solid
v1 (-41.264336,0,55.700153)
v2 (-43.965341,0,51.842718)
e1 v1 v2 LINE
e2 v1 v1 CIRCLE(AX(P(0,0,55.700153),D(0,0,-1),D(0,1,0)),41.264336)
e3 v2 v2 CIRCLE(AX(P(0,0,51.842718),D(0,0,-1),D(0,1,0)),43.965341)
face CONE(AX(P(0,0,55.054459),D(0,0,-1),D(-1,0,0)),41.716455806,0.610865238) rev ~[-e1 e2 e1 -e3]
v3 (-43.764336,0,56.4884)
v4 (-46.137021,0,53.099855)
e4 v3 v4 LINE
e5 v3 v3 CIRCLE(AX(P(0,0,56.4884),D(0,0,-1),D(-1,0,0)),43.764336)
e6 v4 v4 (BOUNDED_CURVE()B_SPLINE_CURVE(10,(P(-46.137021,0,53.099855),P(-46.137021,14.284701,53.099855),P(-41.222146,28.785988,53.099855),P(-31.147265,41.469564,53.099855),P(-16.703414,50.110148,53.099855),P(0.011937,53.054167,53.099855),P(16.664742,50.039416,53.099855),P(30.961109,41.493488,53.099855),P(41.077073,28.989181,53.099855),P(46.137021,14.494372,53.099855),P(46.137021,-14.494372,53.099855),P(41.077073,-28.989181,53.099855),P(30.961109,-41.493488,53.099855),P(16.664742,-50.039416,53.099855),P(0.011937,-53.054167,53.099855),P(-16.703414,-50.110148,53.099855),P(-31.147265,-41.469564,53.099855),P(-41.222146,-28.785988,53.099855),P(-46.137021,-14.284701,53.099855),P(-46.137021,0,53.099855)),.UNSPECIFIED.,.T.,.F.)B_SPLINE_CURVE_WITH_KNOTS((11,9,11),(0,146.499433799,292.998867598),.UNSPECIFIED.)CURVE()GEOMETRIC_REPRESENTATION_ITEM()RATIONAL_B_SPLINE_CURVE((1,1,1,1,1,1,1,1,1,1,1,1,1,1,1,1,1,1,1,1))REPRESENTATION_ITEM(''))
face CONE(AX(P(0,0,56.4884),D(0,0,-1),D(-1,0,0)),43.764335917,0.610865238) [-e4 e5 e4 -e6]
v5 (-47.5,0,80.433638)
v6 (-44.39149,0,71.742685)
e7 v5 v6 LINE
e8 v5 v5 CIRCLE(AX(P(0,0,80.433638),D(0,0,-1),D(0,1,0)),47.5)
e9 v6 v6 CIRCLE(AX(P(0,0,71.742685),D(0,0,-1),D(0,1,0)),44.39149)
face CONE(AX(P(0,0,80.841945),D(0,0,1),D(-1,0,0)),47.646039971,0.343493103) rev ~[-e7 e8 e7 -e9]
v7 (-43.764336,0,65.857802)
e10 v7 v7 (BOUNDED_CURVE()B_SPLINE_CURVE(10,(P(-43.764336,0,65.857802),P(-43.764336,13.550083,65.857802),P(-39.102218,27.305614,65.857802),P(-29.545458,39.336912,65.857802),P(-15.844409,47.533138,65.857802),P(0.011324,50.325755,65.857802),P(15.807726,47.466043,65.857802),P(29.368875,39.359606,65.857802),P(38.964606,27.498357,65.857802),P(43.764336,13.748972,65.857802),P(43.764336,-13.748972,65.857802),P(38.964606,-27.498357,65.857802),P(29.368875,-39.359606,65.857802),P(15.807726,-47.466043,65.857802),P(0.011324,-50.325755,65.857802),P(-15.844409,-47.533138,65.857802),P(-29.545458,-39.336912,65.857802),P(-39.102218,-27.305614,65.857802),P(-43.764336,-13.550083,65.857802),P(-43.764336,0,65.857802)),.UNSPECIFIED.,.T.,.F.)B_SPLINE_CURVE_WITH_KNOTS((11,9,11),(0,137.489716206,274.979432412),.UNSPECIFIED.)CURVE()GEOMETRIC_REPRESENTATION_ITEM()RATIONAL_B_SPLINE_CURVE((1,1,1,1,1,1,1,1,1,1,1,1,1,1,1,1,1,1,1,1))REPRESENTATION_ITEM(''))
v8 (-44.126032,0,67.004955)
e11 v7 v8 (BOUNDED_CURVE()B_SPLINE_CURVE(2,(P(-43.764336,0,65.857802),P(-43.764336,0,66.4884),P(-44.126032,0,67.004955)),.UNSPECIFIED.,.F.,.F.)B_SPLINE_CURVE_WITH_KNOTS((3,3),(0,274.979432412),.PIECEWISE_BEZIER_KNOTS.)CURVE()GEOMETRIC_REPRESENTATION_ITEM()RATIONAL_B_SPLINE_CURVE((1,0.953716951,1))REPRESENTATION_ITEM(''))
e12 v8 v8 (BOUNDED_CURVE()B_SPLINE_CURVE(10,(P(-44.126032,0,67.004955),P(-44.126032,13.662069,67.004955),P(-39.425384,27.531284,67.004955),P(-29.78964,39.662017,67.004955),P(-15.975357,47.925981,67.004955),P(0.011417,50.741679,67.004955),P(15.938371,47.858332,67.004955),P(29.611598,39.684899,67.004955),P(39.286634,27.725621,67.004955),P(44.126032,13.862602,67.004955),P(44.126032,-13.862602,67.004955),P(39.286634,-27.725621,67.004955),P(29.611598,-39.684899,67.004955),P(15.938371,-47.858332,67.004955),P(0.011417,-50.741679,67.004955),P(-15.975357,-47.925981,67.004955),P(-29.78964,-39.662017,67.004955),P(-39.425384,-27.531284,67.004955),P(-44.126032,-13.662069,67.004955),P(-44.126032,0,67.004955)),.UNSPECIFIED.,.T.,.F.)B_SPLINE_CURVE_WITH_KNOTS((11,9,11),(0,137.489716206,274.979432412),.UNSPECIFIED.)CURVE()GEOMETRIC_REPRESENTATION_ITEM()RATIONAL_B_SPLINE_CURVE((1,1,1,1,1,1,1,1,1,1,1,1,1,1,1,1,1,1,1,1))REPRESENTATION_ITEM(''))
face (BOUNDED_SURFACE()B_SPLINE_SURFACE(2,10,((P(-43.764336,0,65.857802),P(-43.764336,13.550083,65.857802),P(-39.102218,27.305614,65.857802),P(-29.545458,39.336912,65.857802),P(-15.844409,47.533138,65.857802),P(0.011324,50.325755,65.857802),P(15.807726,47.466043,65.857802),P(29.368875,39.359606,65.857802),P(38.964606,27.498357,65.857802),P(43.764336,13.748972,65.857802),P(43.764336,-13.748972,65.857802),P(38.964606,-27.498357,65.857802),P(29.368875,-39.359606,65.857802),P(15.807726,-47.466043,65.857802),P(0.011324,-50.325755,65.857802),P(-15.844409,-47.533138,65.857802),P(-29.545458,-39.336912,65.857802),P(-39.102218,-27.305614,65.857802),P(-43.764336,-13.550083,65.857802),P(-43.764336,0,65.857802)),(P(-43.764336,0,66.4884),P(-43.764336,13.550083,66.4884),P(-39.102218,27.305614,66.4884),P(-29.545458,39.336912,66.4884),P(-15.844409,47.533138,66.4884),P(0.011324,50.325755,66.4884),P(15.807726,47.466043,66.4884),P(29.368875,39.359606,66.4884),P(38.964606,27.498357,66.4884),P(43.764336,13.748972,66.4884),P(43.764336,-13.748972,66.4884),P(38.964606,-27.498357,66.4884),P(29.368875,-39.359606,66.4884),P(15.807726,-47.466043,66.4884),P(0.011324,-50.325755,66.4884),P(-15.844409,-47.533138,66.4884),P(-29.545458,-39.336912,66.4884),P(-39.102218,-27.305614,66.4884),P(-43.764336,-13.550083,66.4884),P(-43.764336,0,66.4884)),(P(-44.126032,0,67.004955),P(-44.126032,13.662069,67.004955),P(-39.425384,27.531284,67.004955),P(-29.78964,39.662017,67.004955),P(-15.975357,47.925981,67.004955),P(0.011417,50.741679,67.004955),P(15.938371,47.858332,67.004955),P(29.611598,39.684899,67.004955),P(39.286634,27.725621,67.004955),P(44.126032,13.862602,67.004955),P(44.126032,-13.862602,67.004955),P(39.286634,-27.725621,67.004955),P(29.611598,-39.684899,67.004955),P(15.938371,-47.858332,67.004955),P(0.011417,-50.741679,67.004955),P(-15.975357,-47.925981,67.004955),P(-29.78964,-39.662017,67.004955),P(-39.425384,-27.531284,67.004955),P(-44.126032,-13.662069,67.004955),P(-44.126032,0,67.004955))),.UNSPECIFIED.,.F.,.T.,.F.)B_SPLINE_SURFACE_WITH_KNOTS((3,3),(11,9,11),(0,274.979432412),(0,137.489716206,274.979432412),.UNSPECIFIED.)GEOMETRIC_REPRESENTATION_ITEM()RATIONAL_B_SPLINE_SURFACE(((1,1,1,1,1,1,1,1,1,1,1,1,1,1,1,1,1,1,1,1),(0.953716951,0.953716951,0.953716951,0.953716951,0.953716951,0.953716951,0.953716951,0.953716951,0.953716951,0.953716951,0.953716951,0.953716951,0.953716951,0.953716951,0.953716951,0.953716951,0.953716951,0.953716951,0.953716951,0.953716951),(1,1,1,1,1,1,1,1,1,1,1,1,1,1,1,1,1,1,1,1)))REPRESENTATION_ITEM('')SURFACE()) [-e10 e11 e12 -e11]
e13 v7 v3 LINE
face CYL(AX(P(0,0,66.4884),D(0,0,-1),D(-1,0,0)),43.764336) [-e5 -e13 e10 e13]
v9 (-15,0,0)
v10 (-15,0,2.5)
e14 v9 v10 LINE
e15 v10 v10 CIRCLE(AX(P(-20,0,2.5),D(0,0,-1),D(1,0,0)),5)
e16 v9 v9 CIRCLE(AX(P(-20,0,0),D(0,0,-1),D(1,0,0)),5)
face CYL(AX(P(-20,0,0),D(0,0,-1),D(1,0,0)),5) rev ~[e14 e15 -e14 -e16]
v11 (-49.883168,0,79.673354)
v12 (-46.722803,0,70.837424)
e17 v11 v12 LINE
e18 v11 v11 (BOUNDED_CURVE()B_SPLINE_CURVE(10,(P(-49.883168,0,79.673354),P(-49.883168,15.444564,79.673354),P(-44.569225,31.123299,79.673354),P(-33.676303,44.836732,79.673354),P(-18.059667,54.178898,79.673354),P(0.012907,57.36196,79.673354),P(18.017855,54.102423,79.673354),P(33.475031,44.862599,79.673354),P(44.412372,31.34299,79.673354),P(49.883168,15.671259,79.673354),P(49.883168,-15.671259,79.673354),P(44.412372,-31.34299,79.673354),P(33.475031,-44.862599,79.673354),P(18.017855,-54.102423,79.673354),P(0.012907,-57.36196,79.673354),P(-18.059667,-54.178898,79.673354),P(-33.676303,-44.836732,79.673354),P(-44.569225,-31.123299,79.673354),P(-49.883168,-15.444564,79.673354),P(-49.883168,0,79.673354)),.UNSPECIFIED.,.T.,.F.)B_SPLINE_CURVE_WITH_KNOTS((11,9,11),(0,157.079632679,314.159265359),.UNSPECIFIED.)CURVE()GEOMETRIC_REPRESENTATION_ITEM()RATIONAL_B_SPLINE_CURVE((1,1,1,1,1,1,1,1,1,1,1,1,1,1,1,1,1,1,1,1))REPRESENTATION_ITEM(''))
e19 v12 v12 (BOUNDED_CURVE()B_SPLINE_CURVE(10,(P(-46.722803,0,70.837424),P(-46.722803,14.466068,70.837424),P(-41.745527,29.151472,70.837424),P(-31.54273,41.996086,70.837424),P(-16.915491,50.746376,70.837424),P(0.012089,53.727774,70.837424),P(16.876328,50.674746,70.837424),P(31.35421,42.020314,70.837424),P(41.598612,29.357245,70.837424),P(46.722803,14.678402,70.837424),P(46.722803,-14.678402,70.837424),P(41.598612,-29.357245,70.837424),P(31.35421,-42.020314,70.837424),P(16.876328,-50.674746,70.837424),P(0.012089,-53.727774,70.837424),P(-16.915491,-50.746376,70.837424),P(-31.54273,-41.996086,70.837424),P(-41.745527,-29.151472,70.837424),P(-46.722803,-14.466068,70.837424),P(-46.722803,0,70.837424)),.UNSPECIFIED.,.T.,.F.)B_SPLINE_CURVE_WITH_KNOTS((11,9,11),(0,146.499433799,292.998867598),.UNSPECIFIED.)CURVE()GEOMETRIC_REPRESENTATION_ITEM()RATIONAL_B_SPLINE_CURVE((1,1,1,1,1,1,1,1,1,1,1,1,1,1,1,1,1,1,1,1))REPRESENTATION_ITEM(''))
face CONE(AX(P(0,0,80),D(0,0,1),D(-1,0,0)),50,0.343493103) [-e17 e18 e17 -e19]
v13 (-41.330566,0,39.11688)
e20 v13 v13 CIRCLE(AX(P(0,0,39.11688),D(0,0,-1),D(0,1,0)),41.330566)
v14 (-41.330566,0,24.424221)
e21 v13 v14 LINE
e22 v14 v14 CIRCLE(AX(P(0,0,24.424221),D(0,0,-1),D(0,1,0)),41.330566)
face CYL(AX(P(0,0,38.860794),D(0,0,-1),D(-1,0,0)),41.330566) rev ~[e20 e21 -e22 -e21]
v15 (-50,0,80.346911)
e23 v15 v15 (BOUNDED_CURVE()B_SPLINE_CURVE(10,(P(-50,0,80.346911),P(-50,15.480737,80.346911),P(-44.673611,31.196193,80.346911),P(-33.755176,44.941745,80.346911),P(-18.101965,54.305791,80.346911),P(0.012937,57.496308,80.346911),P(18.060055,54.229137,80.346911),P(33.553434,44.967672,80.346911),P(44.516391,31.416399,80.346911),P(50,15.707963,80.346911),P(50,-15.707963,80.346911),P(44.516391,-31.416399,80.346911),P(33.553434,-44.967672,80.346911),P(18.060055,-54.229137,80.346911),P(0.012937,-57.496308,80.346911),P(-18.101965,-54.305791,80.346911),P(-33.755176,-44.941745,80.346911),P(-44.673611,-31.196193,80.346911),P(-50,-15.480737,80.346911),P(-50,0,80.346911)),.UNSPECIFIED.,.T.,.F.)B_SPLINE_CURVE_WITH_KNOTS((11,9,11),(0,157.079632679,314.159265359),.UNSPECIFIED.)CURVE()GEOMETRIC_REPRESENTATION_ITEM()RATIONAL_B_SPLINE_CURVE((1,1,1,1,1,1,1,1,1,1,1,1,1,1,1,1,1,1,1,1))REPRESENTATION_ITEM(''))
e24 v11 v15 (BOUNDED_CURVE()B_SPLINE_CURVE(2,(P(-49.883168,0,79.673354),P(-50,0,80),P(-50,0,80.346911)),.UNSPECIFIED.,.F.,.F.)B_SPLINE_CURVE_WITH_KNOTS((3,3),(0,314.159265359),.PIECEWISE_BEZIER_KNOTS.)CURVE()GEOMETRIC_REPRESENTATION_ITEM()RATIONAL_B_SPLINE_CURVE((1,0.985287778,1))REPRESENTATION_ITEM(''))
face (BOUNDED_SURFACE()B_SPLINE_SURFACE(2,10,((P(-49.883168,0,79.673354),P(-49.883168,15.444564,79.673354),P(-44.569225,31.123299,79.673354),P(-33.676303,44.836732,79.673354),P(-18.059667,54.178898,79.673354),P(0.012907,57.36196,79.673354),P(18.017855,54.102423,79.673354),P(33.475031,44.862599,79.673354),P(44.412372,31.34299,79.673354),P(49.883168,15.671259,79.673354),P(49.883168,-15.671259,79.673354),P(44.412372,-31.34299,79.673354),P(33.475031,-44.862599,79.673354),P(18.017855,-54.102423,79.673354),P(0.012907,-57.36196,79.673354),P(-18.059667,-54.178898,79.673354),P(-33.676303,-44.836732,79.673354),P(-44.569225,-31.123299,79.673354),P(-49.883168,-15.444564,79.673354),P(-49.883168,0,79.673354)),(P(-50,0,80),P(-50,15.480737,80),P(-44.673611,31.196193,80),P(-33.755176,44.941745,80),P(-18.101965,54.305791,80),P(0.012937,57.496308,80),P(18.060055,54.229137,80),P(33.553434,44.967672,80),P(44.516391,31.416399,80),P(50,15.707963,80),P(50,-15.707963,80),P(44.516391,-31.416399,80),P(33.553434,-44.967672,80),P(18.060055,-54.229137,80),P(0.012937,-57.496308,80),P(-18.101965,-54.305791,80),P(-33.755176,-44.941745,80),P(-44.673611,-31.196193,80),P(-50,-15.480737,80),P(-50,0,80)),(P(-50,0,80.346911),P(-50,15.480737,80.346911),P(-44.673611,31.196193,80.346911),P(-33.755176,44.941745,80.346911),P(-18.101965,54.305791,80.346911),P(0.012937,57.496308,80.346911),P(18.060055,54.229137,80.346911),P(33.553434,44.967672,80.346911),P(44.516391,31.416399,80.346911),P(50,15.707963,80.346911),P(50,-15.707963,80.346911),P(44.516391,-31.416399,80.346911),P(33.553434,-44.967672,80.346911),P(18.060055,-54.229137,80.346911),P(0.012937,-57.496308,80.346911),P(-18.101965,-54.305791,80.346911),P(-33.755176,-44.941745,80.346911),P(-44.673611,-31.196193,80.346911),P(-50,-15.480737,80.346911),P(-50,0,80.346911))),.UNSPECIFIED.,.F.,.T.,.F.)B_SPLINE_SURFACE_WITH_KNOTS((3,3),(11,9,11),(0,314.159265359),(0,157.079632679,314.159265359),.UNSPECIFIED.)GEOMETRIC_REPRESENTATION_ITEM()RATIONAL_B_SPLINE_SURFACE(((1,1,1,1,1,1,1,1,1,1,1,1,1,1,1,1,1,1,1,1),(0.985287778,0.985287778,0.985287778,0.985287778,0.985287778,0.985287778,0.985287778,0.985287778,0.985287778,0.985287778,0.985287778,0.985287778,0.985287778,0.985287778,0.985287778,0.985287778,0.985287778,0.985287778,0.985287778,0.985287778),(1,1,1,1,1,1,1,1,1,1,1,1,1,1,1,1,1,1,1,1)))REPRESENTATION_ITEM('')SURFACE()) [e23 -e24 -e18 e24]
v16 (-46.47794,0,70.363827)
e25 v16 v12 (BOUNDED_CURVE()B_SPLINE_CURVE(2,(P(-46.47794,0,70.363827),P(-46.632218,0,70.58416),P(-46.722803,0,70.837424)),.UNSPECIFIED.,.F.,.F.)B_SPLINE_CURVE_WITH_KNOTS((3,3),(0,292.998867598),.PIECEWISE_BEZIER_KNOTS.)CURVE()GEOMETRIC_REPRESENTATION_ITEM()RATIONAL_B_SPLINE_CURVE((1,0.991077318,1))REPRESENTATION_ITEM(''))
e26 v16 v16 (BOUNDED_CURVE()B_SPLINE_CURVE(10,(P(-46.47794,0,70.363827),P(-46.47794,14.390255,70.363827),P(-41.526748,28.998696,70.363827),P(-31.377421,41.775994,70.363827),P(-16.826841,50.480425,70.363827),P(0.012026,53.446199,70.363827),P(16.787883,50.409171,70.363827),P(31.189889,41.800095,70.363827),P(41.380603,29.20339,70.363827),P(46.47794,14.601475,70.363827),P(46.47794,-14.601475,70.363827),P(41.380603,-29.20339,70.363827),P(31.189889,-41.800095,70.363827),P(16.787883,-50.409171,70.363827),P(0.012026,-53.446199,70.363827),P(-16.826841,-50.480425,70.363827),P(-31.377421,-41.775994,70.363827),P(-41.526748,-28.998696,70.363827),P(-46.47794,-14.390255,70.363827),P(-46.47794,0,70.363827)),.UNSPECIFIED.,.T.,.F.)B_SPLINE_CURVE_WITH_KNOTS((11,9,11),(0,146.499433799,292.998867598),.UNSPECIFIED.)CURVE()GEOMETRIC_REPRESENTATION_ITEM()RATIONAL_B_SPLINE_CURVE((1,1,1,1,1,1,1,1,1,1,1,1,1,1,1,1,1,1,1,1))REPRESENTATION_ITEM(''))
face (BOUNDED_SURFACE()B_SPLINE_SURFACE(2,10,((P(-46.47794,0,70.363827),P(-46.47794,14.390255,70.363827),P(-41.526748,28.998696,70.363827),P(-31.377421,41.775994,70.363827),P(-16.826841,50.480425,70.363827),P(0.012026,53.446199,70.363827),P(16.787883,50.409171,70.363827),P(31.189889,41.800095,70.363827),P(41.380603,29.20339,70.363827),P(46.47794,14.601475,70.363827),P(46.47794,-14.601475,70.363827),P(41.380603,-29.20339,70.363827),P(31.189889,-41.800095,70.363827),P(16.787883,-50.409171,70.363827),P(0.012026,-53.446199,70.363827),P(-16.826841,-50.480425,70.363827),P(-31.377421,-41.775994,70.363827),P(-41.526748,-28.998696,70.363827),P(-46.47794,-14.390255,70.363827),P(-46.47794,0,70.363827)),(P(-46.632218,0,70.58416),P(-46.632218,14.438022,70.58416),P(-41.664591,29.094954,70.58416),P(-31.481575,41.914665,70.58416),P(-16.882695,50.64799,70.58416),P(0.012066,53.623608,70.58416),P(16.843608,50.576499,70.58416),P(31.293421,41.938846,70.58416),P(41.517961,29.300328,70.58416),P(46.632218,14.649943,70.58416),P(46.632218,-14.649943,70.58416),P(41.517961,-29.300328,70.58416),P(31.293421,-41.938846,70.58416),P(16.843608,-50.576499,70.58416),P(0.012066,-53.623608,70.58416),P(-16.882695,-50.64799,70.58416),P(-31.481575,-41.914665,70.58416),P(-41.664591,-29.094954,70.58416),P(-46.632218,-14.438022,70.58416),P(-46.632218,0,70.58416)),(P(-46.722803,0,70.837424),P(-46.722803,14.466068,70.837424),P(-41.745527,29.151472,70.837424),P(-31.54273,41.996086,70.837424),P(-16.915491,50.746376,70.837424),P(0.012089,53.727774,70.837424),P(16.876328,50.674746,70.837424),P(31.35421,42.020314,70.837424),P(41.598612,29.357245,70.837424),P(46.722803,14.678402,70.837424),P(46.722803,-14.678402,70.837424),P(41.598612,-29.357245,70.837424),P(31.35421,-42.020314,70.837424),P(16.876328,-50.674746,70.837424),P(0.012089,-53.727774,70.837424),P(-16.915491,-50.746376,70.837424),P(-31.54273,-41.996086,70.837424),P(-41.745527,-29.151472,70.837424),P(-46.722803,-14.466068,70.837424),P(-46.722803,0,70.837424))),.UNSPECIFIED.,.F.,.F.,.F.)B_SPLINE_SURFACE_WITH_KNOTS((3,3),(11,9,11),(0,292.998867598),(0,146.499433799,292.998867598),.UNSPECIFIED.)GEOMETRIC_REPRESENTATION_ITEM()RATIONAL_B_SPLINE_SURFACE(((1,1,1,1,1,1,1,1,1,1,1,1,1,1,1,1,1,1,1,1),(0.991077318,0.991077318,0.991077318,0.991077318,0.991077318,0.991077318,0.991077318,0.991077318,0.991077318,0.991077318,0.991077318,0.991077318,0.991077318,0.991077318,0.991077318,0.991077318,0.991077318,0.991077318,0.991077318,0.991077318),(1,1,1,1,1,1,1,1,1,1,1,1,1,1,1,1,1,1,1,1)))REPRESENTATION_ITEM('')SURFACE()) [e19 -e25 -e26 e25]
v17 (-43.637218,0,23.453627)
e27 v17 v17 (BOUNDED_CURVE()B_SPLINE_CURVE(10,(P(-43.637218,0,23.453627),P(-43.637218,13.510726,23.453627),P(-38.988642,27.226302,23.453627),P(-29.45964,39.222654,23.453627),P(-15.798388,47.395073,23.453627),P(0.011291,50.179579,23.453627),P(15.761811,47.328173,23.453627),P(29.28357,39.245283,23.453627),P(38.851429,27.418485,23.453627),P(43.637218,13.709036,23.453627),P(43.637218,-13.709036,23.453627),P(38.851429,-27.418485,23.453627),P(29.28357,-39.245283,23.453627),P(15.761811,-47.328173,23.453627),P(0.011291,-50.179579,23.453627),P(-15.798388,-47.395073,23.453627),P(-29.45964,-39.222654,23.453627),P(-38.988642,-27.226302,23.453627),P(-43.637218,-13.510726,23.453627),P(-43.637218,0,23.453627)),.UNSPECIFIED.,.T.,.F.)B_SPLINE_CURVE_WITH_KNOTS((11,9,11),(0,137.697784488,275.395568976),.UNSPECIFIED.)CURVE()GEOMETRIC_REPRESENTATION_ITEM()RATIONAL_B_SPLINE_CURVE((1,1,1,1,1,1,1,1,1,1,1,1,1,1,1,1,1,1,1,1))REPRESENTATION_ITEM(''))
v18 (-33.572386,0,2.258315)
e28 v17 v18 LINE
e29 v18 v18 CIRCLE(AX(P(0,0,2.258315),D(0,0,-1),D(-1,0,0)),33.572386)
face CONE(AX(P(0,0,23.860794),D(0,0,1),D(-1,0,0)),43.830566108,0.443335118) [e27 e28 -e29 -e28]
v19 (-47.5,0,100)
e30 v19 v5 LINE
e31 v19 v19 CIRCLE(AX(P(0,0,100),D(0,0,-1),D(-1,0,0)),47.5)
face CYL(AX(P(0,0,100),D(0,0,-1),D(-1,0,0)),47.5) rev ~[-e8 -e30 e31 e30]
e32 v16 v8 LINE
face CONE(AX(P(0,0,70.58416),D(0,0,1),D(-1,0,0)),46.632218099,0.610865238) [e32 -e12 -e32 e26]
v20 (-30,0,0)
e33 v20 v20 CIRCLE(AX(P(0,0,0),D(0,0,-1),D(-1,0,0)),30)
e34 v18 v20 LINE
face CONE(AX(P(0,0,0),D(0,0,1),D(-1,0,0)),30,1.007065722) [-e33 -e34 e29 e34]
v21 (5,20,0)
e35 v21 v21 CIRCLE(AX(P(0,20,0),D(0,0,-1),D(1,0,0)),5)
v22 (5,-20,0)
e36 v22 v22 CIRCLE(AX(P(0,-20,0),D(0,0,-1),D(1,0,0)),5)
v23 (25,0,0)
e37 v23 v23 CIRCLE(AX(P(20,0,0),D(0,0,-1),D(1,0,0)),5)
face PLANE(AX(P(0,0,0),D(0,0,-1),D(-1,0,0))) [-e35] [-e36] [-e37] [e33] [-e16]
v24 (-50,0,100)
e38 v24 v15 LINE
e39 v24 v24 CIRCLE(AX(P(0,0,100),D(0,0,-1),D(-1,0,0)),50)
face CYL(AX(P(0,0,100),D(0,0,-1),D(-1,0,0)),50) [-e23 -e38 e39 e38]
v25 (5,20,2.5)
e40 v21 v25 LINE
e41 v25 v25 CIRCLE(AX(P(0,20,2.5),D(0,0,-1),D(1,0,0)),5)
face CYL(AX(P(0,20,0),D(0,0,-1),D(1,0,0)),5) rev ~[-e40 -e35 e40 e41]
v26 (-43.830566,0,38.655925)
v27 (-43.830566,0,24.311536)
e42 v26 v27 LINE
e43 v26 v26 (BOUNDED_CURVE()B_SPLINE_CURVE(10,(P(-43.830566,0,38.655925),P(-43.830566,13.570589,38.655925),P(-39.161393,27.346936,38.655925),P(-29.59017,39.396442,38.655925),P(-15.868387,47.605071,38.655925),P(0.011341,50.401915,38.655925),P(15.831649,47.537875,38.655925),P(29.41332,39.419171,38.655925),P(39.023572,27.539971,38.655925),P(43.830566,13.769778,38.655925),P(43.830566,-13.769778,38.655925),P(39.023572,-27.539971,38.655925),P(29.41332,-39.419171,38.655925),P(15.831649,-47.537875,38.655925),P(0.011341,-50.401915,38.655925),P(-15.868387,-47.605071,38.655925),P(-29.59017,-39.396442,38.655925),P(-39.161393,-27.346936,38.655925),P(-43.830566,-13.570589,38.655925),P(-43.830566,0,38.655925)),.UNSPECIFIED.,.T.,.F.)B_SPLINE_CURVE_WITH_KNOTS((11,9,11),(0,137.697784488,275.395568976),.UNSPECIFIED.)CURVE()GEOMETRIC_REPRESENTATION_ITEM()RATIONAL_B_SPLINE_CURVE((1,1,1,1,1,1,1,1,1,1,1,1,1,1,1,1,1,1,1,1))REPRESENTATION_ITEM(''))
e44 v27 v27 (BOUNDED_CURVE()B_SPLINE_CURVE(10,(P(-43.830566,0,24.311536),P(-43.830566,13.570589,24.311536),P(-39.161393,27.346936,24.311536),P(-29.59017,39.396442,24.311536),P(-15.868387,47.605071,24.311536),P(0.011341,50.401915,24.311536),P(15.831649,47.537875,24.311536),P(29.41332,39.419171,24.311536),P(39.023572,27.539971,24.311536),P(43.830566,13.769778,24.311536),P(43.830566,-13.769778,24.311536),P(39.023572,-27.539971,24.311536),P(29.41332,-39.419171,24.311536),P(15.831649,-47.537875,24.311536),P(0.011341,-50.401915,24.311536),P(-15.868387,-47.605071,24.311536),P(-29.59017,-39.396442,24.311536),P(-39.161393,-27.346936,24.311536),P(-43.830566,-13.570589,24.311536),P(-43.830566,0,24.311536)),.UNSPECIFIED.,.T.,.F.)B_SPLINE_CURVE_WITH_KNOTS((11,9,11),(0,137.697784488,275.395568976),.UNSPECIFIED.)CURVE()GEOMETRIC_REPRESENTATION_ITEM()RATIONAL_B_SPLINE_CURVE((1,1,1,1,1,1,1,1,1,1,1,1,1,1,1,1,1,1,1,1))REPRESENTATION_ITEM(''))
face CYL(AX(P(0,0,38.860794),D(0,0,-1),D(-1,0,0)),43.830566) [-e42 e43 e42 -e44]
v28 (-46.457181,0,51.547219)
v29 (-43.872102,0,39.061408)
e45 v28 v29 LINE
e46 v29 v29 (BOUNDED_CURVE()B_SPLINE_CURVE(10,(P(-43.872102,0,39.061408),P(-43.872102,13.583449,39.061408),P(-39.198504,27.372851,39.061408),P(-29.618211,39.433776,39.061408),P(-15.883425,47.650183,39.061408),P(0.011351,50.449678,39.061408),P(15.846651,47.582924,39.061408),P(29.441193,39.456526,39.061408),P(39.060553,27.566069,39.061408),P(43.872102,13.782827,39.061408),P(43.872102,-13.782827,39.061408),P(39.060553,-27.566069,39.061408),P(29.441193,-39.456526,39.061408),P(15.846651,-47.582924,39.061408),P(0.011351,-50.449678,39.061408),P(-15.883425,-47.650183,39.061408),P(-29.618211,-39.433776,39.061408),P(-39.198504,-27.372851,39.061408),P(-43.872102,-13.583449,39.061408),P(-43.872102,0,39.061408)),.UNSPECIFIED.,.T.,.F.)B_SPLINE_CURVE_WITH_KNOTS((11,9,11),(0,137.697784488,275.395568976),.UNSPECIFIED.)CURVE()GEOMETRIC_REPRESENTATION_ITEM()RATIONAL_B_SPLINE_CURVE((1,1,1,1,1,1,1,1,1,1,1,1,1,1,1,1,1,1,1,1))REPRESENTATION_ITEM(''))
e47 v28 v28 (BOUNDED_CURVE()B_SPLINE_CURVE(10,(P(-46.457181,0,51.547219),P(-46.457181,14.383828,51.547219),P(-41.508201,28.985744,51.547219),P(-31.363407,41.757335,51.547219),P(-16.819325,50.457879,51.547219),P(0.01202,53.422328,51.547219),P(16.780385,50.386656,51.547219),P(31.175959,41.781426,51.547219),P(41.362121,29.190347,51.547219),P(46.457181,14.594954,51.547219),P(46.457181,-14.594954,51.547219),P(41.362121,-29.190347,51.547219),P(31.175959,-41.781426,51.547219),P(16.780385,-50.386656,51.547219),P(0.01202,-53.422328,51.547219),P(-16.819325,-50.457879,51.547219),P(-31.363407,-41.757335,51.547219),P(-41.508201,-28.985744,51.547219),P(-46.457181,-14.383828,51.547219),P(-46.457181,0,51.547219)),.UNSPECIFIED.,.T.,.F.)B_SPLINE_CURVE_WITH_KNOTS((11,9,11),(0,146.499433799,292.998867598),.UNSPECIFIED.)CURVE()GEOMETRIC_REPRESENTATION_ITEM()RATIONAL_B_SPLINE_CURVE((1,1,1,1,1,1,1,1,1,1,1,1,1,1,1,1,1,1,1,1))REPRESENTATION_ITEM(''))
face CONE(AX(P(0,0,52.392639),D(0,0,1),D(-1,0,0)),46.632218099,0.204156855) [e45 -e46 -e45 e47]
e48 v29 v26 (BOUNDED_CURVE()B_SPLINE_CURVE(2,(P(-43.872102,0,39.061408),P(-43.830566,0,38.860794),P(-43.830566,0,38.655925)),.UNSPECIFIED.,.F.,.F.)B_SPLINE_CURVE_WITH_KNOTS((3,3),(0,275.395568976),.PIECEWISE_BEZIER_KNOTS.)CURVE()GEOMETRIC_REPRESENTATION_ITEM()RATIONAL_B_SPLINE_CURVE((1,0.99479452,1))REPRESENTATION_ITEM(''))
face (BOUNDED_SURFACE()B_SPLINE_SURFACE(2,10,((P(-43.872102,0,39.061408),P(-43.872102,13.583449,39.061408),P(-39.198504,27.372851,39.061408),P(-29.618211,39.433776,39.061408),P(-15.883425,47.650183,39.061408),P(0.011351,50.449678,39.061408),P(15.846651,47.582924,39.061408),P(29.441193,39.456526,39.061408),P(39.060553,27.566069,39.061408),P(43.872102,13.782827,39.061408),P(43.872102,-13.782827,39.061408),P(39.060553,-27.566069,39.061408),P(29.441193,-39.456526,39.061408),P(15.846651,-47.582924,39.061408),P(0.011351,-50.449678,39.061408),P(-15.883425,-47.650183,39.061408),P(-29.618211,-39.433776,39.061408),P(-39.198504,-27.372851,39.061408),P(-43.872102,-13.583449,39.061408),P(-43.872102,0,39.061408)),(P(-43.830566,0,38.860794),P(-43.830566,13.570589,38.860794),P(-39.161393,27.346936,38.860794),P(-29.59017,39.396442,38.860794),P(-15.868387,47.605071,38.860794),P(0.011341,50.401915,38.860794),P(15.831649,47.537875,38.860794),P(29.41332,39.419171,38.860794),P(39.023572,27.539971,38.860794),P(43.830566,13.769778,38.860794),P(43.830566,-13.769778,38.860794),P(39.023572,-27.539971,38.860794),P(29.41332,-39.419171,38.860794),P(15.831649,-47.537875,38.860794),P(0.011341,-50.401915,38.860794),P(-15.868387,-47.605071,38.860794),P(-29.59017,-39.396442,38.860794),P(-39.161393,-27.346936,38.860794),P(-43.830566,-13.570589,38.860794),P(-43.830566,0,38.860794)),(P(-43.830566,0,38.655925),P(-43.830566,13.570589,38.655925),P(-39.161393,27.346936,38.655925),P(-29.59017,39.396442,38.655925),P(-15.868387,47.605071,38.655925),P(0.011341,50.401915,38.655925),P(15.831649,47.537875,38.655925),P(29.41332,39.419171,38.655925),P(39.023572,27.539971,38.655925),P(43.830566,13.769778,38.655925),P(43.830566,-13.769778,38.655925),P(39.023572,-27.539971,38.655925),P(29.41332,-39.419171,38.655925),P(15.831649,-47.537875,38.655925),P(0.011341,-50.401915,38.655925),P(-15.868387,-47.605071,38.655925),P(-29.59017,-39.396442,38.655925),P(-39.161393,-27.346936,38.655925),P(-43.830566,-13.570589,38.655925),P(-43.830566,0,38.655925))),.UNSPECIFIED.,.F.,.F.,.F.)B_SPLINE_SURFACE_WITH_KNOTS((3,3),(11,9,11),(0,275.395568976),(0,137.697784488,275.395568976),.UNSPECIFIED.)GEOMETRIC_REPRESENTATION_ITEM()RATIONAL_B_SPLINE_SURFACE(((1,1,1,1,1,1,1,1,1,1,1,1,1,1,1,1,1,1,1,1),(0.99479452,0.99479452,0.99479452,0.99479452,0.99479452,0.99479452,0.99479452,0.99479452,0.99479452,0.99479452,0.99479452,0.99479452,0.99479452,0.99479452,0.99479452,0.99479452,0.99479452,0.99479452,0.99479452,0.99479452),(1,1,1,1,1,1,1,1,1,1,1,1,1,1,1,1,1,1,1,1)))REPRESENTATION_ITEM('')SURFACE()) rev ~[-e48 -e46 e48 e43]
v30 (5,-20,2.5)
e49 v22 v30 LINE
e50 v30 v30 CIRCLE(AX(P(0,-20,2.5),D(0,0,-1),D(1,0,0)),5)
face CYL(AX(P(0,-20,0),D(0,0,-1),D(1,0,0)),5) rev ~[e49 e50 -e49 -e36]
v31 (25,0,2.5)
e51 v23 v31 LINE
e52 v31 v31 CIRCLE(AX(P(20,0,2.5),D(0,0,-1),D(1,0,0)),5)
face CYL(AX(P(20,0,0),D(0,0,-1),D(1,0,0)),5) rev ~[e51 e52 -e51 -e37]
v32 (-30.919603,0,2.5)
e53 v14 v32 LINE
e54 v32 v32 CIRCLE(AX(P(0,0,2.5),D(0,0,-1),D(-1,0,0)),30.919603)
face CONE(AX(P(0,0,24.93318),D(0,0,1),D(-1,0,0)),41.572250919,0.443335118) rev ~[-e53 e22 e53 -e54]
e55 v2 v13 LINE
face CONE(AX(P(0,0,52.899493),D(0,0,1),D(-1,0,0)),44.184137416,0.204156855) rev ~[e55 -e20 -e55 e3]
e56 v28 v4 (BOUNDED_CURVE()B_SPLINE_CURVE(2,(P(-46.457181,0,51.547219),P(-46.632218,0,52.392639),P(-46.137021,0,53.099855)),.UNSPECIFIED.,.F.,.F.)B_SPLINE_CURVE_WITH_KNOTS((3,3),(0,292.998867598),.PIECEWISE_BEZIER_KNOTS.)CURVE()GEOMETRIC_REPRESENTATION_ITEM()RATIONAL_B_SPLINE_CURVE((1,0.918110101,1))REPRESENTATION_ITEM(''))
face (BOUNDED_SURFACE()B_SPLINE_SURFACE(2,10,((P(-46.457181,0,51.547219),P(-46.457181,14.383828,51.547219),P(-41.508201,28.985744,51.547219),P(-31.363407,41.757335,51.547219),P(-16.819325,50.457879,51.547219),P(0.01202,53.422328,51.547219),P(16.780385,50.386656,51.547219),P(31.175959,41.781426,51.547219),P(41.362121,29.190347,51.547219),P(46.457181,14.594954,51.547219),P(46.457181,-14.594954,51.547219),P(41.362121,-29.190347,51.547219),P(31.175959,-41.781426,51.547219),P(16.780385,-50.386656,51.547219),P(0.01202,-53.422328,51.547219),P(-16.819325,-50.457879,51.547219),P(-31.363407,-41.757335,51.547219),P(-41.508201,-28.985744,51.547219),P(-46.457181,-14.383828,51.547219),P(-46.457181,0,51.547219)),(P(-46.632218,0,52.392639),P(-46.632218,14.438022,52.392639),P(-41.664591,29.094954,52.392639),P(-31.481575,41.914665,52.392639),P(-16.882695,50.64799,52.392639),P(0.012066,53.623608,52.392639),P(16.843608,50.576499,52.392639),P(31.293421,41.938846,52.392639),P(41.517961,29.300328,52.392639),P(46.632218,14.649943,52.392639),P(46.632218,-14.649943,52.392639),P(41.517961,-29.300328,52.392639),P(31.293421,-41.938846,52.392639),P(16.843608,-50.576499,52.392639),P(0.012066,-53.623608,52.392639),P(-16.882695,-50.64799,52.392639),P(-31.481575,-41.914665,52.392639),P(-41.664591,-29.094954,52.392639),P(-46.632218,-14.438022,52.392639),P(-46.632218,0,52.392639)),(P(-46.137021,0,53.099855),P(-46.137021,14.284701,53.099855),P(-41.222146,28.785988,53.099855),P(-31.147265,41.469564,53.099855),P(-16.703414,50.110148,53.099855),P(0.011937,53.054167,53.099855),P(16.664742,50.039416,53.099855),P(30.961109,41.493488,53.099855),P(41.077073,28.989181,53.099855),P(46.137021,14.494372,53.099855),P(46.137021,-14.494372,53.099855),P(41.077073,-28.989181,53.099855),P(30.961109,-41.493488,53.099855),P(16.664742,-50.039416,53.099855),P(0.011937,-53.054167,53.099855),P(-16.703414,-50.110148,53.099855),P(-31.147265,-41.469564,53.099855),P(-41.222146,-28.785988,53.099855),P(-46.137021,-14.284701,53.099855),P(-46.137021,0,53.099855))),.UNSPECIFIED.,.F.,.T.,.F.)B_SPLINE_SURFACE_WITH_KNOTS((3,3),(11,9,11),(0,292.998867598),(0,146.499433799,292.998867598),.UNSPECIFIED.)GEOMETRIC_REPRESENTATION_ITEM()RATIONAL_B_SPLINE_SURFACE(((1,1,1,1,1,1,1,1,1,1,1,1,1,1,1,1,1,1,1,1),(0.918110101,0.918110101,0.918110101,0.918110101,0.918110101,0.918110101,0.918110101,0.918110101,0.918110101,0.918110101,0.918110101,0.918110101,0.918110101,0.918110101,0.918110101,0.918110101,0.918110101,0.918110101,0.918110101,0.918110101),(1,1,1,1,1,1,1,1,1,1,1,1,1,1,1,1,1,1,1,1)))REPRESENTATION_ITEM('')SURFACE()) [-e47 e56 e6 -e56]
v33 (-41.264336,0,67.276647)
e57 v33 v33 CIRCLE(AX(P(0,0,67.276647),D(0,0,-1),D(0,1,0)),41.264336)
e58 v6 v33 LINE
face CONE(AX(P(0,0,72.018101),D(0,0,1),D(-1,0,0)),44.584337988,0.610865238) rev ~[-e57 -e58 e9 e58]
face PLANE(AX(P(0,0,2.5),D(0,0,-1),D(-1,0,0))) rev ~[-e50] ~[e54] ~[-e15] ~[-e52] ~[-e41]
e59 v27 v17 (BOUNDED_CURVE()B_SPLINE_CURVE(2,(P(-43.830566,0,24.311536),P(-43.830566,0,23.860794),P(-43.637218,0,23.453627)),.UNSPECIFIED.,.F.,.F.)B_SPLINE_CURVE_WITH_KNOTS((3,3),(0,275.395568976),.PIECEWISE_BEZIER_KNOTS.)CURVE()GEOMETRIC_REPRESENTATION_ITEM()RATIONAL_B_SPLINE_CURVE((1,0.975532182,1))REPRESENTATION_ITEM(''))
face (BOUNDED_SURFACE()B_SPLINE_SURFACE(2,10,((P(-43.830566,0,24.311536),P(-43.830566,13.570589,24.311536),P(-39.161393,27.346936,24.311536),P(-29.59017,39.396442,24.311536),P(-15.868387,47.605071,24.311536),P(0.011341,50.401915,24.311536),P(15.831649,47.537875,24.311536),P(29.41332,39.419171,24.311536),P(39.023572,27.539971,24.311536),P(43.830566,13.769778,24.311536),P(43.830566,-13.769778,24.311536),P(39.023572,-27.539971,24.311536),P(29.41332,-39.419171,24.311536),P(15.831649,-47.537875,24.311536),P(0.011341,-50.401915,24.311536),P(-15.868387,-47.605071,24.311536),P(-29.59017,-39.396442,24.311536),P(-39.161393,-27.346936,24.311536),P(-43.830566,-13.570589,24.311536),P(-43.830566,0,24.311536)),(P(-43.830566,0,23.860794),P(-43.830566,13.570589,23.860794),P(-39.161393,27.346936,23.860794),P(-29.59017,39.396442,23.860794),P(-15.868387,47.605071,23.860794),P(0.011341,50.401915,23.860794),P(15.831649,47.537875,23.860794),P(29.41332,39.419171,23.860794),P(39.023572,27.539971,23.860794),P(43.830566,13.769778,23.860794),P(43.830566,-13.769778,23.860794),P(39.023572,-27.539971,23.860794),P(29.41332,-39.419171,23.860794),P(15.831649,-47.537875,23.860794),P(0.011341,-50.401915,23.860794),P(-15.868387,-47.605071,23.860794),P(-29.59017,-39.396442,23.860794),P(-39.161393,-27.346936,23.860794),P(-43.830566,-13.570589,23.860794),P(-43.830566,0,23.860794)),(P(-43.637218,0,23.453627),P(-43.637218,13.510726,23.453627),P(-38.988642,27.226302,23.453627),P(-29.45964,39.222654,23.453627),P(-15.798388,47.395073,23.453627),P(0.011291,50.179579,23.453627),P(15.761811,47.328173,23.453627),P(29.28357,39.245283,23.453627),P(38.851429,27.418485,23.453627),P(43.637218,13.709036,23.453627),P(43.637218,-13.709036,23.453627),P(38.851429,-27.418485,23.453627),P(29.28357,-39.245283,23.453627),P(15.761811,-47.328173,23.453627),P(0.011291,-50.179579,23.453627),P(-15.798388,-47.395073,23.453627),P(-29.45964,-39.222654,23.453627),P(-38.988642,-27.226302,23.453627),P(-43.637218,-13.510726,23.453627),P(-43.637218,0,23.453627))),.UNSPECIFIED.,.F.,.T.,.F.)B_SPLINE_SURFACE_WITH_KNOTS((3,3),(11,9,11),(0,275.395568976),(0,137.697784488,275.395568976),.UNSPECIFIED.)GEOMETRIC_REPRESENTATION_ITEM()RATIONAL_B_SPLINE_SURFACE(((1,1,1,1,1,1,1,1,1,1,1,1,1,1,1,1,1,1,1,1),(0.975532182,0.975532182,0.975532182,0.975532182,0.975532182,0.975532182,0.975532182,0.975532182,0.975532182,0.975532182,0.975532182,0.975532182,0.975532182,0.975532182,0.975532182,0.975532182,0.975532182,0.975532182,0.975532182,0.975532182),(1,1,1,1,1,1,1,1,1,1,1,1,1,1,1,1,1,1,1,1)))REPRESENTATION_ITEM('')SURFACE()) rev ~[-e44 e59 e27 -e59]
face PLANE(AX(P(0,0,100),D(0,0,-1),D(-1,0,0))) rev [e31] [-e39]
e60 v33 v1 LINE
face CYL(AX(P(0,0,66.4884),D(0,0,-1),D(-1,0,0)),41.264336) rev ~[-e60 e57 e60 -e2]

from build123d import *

# Parameters (mm, degrees)
F2_T     = -2.5
F3_SIZE  = 2.5
F4_R     = 5
F5_DEPTH = 10
F6_R     = 2
F7_R     = 2


with BuildPart() as f1:
    # F0 (on Front) → F1 (revolve)
    with BuildSketch(Plane.XZ):
        Polygon((-50, 100), (-50, 80), (-46.6322180986, 70.5841598853), (-43.7643359169, 66.4883996639), (-43.7643359169, 56.4883996639), (-46.6322180986, 52.3926394425), (-43.8305661082, 38.8607935607), (-43.8305661082, 23.8607935607), (-32.5, 0), (0, 0), (0, 100), align=None)
    revolve(axis=Axis((0, 0, 50), (0, 0, -1)))

    # F2
    f2_openings = [f1.faces().sort_by_distance(p)[0] for p in [
        (0, 0, 100),
    ]]
    offset(amount=F2_T, openings=f2_openings, kind=Kind.INTERSECTION)

    # F3
    f3_edges = [f1.edges().sort_by_distance(p)[0] for p in [
        (32.5, 0, 0),
    ]]
    chamfer(f3_edges, length=F3_SIZE)

    # F4 (on face) → F5 (cut)
    with BuildSketch(Plane(origin=(0, 0, 0), x_dir=(1, 0, 0), z_dir=(0, 0, -1))):
        with Locations((-20, 0)):
            Circle(F4_R)
        with Locations((0, 20)):
            Circle(F4_R)
        with Locations((20, 0)):
            Circle(F4_R)
        with Locations((0, -20)):
            Circle(F4_R)
    extrude(amount=-F5_DEPTH, mode=Mode.SUBTRACT)

    # F6
    f6_edges = [f1.edges().sort_by_distance(p)[0] for p in [
        (46.632218, 0, 52.392639),
    ]]
    fillet(f6_edges, radius=F6_R)

    # F7
    f7_edges = [f1.edges().sort_by_distance(p)[0] for p in [
        (43.830566, 0, 23.860794),
        (50, 0, 80),
        (43.830566, 0, 38.860794),
        (43.764336, 0, 66.4884),
        (46.632218, 0, 70.58416),
    ]]
    fillet(f7_edges, radius=F7_R)


solid = f1.part
